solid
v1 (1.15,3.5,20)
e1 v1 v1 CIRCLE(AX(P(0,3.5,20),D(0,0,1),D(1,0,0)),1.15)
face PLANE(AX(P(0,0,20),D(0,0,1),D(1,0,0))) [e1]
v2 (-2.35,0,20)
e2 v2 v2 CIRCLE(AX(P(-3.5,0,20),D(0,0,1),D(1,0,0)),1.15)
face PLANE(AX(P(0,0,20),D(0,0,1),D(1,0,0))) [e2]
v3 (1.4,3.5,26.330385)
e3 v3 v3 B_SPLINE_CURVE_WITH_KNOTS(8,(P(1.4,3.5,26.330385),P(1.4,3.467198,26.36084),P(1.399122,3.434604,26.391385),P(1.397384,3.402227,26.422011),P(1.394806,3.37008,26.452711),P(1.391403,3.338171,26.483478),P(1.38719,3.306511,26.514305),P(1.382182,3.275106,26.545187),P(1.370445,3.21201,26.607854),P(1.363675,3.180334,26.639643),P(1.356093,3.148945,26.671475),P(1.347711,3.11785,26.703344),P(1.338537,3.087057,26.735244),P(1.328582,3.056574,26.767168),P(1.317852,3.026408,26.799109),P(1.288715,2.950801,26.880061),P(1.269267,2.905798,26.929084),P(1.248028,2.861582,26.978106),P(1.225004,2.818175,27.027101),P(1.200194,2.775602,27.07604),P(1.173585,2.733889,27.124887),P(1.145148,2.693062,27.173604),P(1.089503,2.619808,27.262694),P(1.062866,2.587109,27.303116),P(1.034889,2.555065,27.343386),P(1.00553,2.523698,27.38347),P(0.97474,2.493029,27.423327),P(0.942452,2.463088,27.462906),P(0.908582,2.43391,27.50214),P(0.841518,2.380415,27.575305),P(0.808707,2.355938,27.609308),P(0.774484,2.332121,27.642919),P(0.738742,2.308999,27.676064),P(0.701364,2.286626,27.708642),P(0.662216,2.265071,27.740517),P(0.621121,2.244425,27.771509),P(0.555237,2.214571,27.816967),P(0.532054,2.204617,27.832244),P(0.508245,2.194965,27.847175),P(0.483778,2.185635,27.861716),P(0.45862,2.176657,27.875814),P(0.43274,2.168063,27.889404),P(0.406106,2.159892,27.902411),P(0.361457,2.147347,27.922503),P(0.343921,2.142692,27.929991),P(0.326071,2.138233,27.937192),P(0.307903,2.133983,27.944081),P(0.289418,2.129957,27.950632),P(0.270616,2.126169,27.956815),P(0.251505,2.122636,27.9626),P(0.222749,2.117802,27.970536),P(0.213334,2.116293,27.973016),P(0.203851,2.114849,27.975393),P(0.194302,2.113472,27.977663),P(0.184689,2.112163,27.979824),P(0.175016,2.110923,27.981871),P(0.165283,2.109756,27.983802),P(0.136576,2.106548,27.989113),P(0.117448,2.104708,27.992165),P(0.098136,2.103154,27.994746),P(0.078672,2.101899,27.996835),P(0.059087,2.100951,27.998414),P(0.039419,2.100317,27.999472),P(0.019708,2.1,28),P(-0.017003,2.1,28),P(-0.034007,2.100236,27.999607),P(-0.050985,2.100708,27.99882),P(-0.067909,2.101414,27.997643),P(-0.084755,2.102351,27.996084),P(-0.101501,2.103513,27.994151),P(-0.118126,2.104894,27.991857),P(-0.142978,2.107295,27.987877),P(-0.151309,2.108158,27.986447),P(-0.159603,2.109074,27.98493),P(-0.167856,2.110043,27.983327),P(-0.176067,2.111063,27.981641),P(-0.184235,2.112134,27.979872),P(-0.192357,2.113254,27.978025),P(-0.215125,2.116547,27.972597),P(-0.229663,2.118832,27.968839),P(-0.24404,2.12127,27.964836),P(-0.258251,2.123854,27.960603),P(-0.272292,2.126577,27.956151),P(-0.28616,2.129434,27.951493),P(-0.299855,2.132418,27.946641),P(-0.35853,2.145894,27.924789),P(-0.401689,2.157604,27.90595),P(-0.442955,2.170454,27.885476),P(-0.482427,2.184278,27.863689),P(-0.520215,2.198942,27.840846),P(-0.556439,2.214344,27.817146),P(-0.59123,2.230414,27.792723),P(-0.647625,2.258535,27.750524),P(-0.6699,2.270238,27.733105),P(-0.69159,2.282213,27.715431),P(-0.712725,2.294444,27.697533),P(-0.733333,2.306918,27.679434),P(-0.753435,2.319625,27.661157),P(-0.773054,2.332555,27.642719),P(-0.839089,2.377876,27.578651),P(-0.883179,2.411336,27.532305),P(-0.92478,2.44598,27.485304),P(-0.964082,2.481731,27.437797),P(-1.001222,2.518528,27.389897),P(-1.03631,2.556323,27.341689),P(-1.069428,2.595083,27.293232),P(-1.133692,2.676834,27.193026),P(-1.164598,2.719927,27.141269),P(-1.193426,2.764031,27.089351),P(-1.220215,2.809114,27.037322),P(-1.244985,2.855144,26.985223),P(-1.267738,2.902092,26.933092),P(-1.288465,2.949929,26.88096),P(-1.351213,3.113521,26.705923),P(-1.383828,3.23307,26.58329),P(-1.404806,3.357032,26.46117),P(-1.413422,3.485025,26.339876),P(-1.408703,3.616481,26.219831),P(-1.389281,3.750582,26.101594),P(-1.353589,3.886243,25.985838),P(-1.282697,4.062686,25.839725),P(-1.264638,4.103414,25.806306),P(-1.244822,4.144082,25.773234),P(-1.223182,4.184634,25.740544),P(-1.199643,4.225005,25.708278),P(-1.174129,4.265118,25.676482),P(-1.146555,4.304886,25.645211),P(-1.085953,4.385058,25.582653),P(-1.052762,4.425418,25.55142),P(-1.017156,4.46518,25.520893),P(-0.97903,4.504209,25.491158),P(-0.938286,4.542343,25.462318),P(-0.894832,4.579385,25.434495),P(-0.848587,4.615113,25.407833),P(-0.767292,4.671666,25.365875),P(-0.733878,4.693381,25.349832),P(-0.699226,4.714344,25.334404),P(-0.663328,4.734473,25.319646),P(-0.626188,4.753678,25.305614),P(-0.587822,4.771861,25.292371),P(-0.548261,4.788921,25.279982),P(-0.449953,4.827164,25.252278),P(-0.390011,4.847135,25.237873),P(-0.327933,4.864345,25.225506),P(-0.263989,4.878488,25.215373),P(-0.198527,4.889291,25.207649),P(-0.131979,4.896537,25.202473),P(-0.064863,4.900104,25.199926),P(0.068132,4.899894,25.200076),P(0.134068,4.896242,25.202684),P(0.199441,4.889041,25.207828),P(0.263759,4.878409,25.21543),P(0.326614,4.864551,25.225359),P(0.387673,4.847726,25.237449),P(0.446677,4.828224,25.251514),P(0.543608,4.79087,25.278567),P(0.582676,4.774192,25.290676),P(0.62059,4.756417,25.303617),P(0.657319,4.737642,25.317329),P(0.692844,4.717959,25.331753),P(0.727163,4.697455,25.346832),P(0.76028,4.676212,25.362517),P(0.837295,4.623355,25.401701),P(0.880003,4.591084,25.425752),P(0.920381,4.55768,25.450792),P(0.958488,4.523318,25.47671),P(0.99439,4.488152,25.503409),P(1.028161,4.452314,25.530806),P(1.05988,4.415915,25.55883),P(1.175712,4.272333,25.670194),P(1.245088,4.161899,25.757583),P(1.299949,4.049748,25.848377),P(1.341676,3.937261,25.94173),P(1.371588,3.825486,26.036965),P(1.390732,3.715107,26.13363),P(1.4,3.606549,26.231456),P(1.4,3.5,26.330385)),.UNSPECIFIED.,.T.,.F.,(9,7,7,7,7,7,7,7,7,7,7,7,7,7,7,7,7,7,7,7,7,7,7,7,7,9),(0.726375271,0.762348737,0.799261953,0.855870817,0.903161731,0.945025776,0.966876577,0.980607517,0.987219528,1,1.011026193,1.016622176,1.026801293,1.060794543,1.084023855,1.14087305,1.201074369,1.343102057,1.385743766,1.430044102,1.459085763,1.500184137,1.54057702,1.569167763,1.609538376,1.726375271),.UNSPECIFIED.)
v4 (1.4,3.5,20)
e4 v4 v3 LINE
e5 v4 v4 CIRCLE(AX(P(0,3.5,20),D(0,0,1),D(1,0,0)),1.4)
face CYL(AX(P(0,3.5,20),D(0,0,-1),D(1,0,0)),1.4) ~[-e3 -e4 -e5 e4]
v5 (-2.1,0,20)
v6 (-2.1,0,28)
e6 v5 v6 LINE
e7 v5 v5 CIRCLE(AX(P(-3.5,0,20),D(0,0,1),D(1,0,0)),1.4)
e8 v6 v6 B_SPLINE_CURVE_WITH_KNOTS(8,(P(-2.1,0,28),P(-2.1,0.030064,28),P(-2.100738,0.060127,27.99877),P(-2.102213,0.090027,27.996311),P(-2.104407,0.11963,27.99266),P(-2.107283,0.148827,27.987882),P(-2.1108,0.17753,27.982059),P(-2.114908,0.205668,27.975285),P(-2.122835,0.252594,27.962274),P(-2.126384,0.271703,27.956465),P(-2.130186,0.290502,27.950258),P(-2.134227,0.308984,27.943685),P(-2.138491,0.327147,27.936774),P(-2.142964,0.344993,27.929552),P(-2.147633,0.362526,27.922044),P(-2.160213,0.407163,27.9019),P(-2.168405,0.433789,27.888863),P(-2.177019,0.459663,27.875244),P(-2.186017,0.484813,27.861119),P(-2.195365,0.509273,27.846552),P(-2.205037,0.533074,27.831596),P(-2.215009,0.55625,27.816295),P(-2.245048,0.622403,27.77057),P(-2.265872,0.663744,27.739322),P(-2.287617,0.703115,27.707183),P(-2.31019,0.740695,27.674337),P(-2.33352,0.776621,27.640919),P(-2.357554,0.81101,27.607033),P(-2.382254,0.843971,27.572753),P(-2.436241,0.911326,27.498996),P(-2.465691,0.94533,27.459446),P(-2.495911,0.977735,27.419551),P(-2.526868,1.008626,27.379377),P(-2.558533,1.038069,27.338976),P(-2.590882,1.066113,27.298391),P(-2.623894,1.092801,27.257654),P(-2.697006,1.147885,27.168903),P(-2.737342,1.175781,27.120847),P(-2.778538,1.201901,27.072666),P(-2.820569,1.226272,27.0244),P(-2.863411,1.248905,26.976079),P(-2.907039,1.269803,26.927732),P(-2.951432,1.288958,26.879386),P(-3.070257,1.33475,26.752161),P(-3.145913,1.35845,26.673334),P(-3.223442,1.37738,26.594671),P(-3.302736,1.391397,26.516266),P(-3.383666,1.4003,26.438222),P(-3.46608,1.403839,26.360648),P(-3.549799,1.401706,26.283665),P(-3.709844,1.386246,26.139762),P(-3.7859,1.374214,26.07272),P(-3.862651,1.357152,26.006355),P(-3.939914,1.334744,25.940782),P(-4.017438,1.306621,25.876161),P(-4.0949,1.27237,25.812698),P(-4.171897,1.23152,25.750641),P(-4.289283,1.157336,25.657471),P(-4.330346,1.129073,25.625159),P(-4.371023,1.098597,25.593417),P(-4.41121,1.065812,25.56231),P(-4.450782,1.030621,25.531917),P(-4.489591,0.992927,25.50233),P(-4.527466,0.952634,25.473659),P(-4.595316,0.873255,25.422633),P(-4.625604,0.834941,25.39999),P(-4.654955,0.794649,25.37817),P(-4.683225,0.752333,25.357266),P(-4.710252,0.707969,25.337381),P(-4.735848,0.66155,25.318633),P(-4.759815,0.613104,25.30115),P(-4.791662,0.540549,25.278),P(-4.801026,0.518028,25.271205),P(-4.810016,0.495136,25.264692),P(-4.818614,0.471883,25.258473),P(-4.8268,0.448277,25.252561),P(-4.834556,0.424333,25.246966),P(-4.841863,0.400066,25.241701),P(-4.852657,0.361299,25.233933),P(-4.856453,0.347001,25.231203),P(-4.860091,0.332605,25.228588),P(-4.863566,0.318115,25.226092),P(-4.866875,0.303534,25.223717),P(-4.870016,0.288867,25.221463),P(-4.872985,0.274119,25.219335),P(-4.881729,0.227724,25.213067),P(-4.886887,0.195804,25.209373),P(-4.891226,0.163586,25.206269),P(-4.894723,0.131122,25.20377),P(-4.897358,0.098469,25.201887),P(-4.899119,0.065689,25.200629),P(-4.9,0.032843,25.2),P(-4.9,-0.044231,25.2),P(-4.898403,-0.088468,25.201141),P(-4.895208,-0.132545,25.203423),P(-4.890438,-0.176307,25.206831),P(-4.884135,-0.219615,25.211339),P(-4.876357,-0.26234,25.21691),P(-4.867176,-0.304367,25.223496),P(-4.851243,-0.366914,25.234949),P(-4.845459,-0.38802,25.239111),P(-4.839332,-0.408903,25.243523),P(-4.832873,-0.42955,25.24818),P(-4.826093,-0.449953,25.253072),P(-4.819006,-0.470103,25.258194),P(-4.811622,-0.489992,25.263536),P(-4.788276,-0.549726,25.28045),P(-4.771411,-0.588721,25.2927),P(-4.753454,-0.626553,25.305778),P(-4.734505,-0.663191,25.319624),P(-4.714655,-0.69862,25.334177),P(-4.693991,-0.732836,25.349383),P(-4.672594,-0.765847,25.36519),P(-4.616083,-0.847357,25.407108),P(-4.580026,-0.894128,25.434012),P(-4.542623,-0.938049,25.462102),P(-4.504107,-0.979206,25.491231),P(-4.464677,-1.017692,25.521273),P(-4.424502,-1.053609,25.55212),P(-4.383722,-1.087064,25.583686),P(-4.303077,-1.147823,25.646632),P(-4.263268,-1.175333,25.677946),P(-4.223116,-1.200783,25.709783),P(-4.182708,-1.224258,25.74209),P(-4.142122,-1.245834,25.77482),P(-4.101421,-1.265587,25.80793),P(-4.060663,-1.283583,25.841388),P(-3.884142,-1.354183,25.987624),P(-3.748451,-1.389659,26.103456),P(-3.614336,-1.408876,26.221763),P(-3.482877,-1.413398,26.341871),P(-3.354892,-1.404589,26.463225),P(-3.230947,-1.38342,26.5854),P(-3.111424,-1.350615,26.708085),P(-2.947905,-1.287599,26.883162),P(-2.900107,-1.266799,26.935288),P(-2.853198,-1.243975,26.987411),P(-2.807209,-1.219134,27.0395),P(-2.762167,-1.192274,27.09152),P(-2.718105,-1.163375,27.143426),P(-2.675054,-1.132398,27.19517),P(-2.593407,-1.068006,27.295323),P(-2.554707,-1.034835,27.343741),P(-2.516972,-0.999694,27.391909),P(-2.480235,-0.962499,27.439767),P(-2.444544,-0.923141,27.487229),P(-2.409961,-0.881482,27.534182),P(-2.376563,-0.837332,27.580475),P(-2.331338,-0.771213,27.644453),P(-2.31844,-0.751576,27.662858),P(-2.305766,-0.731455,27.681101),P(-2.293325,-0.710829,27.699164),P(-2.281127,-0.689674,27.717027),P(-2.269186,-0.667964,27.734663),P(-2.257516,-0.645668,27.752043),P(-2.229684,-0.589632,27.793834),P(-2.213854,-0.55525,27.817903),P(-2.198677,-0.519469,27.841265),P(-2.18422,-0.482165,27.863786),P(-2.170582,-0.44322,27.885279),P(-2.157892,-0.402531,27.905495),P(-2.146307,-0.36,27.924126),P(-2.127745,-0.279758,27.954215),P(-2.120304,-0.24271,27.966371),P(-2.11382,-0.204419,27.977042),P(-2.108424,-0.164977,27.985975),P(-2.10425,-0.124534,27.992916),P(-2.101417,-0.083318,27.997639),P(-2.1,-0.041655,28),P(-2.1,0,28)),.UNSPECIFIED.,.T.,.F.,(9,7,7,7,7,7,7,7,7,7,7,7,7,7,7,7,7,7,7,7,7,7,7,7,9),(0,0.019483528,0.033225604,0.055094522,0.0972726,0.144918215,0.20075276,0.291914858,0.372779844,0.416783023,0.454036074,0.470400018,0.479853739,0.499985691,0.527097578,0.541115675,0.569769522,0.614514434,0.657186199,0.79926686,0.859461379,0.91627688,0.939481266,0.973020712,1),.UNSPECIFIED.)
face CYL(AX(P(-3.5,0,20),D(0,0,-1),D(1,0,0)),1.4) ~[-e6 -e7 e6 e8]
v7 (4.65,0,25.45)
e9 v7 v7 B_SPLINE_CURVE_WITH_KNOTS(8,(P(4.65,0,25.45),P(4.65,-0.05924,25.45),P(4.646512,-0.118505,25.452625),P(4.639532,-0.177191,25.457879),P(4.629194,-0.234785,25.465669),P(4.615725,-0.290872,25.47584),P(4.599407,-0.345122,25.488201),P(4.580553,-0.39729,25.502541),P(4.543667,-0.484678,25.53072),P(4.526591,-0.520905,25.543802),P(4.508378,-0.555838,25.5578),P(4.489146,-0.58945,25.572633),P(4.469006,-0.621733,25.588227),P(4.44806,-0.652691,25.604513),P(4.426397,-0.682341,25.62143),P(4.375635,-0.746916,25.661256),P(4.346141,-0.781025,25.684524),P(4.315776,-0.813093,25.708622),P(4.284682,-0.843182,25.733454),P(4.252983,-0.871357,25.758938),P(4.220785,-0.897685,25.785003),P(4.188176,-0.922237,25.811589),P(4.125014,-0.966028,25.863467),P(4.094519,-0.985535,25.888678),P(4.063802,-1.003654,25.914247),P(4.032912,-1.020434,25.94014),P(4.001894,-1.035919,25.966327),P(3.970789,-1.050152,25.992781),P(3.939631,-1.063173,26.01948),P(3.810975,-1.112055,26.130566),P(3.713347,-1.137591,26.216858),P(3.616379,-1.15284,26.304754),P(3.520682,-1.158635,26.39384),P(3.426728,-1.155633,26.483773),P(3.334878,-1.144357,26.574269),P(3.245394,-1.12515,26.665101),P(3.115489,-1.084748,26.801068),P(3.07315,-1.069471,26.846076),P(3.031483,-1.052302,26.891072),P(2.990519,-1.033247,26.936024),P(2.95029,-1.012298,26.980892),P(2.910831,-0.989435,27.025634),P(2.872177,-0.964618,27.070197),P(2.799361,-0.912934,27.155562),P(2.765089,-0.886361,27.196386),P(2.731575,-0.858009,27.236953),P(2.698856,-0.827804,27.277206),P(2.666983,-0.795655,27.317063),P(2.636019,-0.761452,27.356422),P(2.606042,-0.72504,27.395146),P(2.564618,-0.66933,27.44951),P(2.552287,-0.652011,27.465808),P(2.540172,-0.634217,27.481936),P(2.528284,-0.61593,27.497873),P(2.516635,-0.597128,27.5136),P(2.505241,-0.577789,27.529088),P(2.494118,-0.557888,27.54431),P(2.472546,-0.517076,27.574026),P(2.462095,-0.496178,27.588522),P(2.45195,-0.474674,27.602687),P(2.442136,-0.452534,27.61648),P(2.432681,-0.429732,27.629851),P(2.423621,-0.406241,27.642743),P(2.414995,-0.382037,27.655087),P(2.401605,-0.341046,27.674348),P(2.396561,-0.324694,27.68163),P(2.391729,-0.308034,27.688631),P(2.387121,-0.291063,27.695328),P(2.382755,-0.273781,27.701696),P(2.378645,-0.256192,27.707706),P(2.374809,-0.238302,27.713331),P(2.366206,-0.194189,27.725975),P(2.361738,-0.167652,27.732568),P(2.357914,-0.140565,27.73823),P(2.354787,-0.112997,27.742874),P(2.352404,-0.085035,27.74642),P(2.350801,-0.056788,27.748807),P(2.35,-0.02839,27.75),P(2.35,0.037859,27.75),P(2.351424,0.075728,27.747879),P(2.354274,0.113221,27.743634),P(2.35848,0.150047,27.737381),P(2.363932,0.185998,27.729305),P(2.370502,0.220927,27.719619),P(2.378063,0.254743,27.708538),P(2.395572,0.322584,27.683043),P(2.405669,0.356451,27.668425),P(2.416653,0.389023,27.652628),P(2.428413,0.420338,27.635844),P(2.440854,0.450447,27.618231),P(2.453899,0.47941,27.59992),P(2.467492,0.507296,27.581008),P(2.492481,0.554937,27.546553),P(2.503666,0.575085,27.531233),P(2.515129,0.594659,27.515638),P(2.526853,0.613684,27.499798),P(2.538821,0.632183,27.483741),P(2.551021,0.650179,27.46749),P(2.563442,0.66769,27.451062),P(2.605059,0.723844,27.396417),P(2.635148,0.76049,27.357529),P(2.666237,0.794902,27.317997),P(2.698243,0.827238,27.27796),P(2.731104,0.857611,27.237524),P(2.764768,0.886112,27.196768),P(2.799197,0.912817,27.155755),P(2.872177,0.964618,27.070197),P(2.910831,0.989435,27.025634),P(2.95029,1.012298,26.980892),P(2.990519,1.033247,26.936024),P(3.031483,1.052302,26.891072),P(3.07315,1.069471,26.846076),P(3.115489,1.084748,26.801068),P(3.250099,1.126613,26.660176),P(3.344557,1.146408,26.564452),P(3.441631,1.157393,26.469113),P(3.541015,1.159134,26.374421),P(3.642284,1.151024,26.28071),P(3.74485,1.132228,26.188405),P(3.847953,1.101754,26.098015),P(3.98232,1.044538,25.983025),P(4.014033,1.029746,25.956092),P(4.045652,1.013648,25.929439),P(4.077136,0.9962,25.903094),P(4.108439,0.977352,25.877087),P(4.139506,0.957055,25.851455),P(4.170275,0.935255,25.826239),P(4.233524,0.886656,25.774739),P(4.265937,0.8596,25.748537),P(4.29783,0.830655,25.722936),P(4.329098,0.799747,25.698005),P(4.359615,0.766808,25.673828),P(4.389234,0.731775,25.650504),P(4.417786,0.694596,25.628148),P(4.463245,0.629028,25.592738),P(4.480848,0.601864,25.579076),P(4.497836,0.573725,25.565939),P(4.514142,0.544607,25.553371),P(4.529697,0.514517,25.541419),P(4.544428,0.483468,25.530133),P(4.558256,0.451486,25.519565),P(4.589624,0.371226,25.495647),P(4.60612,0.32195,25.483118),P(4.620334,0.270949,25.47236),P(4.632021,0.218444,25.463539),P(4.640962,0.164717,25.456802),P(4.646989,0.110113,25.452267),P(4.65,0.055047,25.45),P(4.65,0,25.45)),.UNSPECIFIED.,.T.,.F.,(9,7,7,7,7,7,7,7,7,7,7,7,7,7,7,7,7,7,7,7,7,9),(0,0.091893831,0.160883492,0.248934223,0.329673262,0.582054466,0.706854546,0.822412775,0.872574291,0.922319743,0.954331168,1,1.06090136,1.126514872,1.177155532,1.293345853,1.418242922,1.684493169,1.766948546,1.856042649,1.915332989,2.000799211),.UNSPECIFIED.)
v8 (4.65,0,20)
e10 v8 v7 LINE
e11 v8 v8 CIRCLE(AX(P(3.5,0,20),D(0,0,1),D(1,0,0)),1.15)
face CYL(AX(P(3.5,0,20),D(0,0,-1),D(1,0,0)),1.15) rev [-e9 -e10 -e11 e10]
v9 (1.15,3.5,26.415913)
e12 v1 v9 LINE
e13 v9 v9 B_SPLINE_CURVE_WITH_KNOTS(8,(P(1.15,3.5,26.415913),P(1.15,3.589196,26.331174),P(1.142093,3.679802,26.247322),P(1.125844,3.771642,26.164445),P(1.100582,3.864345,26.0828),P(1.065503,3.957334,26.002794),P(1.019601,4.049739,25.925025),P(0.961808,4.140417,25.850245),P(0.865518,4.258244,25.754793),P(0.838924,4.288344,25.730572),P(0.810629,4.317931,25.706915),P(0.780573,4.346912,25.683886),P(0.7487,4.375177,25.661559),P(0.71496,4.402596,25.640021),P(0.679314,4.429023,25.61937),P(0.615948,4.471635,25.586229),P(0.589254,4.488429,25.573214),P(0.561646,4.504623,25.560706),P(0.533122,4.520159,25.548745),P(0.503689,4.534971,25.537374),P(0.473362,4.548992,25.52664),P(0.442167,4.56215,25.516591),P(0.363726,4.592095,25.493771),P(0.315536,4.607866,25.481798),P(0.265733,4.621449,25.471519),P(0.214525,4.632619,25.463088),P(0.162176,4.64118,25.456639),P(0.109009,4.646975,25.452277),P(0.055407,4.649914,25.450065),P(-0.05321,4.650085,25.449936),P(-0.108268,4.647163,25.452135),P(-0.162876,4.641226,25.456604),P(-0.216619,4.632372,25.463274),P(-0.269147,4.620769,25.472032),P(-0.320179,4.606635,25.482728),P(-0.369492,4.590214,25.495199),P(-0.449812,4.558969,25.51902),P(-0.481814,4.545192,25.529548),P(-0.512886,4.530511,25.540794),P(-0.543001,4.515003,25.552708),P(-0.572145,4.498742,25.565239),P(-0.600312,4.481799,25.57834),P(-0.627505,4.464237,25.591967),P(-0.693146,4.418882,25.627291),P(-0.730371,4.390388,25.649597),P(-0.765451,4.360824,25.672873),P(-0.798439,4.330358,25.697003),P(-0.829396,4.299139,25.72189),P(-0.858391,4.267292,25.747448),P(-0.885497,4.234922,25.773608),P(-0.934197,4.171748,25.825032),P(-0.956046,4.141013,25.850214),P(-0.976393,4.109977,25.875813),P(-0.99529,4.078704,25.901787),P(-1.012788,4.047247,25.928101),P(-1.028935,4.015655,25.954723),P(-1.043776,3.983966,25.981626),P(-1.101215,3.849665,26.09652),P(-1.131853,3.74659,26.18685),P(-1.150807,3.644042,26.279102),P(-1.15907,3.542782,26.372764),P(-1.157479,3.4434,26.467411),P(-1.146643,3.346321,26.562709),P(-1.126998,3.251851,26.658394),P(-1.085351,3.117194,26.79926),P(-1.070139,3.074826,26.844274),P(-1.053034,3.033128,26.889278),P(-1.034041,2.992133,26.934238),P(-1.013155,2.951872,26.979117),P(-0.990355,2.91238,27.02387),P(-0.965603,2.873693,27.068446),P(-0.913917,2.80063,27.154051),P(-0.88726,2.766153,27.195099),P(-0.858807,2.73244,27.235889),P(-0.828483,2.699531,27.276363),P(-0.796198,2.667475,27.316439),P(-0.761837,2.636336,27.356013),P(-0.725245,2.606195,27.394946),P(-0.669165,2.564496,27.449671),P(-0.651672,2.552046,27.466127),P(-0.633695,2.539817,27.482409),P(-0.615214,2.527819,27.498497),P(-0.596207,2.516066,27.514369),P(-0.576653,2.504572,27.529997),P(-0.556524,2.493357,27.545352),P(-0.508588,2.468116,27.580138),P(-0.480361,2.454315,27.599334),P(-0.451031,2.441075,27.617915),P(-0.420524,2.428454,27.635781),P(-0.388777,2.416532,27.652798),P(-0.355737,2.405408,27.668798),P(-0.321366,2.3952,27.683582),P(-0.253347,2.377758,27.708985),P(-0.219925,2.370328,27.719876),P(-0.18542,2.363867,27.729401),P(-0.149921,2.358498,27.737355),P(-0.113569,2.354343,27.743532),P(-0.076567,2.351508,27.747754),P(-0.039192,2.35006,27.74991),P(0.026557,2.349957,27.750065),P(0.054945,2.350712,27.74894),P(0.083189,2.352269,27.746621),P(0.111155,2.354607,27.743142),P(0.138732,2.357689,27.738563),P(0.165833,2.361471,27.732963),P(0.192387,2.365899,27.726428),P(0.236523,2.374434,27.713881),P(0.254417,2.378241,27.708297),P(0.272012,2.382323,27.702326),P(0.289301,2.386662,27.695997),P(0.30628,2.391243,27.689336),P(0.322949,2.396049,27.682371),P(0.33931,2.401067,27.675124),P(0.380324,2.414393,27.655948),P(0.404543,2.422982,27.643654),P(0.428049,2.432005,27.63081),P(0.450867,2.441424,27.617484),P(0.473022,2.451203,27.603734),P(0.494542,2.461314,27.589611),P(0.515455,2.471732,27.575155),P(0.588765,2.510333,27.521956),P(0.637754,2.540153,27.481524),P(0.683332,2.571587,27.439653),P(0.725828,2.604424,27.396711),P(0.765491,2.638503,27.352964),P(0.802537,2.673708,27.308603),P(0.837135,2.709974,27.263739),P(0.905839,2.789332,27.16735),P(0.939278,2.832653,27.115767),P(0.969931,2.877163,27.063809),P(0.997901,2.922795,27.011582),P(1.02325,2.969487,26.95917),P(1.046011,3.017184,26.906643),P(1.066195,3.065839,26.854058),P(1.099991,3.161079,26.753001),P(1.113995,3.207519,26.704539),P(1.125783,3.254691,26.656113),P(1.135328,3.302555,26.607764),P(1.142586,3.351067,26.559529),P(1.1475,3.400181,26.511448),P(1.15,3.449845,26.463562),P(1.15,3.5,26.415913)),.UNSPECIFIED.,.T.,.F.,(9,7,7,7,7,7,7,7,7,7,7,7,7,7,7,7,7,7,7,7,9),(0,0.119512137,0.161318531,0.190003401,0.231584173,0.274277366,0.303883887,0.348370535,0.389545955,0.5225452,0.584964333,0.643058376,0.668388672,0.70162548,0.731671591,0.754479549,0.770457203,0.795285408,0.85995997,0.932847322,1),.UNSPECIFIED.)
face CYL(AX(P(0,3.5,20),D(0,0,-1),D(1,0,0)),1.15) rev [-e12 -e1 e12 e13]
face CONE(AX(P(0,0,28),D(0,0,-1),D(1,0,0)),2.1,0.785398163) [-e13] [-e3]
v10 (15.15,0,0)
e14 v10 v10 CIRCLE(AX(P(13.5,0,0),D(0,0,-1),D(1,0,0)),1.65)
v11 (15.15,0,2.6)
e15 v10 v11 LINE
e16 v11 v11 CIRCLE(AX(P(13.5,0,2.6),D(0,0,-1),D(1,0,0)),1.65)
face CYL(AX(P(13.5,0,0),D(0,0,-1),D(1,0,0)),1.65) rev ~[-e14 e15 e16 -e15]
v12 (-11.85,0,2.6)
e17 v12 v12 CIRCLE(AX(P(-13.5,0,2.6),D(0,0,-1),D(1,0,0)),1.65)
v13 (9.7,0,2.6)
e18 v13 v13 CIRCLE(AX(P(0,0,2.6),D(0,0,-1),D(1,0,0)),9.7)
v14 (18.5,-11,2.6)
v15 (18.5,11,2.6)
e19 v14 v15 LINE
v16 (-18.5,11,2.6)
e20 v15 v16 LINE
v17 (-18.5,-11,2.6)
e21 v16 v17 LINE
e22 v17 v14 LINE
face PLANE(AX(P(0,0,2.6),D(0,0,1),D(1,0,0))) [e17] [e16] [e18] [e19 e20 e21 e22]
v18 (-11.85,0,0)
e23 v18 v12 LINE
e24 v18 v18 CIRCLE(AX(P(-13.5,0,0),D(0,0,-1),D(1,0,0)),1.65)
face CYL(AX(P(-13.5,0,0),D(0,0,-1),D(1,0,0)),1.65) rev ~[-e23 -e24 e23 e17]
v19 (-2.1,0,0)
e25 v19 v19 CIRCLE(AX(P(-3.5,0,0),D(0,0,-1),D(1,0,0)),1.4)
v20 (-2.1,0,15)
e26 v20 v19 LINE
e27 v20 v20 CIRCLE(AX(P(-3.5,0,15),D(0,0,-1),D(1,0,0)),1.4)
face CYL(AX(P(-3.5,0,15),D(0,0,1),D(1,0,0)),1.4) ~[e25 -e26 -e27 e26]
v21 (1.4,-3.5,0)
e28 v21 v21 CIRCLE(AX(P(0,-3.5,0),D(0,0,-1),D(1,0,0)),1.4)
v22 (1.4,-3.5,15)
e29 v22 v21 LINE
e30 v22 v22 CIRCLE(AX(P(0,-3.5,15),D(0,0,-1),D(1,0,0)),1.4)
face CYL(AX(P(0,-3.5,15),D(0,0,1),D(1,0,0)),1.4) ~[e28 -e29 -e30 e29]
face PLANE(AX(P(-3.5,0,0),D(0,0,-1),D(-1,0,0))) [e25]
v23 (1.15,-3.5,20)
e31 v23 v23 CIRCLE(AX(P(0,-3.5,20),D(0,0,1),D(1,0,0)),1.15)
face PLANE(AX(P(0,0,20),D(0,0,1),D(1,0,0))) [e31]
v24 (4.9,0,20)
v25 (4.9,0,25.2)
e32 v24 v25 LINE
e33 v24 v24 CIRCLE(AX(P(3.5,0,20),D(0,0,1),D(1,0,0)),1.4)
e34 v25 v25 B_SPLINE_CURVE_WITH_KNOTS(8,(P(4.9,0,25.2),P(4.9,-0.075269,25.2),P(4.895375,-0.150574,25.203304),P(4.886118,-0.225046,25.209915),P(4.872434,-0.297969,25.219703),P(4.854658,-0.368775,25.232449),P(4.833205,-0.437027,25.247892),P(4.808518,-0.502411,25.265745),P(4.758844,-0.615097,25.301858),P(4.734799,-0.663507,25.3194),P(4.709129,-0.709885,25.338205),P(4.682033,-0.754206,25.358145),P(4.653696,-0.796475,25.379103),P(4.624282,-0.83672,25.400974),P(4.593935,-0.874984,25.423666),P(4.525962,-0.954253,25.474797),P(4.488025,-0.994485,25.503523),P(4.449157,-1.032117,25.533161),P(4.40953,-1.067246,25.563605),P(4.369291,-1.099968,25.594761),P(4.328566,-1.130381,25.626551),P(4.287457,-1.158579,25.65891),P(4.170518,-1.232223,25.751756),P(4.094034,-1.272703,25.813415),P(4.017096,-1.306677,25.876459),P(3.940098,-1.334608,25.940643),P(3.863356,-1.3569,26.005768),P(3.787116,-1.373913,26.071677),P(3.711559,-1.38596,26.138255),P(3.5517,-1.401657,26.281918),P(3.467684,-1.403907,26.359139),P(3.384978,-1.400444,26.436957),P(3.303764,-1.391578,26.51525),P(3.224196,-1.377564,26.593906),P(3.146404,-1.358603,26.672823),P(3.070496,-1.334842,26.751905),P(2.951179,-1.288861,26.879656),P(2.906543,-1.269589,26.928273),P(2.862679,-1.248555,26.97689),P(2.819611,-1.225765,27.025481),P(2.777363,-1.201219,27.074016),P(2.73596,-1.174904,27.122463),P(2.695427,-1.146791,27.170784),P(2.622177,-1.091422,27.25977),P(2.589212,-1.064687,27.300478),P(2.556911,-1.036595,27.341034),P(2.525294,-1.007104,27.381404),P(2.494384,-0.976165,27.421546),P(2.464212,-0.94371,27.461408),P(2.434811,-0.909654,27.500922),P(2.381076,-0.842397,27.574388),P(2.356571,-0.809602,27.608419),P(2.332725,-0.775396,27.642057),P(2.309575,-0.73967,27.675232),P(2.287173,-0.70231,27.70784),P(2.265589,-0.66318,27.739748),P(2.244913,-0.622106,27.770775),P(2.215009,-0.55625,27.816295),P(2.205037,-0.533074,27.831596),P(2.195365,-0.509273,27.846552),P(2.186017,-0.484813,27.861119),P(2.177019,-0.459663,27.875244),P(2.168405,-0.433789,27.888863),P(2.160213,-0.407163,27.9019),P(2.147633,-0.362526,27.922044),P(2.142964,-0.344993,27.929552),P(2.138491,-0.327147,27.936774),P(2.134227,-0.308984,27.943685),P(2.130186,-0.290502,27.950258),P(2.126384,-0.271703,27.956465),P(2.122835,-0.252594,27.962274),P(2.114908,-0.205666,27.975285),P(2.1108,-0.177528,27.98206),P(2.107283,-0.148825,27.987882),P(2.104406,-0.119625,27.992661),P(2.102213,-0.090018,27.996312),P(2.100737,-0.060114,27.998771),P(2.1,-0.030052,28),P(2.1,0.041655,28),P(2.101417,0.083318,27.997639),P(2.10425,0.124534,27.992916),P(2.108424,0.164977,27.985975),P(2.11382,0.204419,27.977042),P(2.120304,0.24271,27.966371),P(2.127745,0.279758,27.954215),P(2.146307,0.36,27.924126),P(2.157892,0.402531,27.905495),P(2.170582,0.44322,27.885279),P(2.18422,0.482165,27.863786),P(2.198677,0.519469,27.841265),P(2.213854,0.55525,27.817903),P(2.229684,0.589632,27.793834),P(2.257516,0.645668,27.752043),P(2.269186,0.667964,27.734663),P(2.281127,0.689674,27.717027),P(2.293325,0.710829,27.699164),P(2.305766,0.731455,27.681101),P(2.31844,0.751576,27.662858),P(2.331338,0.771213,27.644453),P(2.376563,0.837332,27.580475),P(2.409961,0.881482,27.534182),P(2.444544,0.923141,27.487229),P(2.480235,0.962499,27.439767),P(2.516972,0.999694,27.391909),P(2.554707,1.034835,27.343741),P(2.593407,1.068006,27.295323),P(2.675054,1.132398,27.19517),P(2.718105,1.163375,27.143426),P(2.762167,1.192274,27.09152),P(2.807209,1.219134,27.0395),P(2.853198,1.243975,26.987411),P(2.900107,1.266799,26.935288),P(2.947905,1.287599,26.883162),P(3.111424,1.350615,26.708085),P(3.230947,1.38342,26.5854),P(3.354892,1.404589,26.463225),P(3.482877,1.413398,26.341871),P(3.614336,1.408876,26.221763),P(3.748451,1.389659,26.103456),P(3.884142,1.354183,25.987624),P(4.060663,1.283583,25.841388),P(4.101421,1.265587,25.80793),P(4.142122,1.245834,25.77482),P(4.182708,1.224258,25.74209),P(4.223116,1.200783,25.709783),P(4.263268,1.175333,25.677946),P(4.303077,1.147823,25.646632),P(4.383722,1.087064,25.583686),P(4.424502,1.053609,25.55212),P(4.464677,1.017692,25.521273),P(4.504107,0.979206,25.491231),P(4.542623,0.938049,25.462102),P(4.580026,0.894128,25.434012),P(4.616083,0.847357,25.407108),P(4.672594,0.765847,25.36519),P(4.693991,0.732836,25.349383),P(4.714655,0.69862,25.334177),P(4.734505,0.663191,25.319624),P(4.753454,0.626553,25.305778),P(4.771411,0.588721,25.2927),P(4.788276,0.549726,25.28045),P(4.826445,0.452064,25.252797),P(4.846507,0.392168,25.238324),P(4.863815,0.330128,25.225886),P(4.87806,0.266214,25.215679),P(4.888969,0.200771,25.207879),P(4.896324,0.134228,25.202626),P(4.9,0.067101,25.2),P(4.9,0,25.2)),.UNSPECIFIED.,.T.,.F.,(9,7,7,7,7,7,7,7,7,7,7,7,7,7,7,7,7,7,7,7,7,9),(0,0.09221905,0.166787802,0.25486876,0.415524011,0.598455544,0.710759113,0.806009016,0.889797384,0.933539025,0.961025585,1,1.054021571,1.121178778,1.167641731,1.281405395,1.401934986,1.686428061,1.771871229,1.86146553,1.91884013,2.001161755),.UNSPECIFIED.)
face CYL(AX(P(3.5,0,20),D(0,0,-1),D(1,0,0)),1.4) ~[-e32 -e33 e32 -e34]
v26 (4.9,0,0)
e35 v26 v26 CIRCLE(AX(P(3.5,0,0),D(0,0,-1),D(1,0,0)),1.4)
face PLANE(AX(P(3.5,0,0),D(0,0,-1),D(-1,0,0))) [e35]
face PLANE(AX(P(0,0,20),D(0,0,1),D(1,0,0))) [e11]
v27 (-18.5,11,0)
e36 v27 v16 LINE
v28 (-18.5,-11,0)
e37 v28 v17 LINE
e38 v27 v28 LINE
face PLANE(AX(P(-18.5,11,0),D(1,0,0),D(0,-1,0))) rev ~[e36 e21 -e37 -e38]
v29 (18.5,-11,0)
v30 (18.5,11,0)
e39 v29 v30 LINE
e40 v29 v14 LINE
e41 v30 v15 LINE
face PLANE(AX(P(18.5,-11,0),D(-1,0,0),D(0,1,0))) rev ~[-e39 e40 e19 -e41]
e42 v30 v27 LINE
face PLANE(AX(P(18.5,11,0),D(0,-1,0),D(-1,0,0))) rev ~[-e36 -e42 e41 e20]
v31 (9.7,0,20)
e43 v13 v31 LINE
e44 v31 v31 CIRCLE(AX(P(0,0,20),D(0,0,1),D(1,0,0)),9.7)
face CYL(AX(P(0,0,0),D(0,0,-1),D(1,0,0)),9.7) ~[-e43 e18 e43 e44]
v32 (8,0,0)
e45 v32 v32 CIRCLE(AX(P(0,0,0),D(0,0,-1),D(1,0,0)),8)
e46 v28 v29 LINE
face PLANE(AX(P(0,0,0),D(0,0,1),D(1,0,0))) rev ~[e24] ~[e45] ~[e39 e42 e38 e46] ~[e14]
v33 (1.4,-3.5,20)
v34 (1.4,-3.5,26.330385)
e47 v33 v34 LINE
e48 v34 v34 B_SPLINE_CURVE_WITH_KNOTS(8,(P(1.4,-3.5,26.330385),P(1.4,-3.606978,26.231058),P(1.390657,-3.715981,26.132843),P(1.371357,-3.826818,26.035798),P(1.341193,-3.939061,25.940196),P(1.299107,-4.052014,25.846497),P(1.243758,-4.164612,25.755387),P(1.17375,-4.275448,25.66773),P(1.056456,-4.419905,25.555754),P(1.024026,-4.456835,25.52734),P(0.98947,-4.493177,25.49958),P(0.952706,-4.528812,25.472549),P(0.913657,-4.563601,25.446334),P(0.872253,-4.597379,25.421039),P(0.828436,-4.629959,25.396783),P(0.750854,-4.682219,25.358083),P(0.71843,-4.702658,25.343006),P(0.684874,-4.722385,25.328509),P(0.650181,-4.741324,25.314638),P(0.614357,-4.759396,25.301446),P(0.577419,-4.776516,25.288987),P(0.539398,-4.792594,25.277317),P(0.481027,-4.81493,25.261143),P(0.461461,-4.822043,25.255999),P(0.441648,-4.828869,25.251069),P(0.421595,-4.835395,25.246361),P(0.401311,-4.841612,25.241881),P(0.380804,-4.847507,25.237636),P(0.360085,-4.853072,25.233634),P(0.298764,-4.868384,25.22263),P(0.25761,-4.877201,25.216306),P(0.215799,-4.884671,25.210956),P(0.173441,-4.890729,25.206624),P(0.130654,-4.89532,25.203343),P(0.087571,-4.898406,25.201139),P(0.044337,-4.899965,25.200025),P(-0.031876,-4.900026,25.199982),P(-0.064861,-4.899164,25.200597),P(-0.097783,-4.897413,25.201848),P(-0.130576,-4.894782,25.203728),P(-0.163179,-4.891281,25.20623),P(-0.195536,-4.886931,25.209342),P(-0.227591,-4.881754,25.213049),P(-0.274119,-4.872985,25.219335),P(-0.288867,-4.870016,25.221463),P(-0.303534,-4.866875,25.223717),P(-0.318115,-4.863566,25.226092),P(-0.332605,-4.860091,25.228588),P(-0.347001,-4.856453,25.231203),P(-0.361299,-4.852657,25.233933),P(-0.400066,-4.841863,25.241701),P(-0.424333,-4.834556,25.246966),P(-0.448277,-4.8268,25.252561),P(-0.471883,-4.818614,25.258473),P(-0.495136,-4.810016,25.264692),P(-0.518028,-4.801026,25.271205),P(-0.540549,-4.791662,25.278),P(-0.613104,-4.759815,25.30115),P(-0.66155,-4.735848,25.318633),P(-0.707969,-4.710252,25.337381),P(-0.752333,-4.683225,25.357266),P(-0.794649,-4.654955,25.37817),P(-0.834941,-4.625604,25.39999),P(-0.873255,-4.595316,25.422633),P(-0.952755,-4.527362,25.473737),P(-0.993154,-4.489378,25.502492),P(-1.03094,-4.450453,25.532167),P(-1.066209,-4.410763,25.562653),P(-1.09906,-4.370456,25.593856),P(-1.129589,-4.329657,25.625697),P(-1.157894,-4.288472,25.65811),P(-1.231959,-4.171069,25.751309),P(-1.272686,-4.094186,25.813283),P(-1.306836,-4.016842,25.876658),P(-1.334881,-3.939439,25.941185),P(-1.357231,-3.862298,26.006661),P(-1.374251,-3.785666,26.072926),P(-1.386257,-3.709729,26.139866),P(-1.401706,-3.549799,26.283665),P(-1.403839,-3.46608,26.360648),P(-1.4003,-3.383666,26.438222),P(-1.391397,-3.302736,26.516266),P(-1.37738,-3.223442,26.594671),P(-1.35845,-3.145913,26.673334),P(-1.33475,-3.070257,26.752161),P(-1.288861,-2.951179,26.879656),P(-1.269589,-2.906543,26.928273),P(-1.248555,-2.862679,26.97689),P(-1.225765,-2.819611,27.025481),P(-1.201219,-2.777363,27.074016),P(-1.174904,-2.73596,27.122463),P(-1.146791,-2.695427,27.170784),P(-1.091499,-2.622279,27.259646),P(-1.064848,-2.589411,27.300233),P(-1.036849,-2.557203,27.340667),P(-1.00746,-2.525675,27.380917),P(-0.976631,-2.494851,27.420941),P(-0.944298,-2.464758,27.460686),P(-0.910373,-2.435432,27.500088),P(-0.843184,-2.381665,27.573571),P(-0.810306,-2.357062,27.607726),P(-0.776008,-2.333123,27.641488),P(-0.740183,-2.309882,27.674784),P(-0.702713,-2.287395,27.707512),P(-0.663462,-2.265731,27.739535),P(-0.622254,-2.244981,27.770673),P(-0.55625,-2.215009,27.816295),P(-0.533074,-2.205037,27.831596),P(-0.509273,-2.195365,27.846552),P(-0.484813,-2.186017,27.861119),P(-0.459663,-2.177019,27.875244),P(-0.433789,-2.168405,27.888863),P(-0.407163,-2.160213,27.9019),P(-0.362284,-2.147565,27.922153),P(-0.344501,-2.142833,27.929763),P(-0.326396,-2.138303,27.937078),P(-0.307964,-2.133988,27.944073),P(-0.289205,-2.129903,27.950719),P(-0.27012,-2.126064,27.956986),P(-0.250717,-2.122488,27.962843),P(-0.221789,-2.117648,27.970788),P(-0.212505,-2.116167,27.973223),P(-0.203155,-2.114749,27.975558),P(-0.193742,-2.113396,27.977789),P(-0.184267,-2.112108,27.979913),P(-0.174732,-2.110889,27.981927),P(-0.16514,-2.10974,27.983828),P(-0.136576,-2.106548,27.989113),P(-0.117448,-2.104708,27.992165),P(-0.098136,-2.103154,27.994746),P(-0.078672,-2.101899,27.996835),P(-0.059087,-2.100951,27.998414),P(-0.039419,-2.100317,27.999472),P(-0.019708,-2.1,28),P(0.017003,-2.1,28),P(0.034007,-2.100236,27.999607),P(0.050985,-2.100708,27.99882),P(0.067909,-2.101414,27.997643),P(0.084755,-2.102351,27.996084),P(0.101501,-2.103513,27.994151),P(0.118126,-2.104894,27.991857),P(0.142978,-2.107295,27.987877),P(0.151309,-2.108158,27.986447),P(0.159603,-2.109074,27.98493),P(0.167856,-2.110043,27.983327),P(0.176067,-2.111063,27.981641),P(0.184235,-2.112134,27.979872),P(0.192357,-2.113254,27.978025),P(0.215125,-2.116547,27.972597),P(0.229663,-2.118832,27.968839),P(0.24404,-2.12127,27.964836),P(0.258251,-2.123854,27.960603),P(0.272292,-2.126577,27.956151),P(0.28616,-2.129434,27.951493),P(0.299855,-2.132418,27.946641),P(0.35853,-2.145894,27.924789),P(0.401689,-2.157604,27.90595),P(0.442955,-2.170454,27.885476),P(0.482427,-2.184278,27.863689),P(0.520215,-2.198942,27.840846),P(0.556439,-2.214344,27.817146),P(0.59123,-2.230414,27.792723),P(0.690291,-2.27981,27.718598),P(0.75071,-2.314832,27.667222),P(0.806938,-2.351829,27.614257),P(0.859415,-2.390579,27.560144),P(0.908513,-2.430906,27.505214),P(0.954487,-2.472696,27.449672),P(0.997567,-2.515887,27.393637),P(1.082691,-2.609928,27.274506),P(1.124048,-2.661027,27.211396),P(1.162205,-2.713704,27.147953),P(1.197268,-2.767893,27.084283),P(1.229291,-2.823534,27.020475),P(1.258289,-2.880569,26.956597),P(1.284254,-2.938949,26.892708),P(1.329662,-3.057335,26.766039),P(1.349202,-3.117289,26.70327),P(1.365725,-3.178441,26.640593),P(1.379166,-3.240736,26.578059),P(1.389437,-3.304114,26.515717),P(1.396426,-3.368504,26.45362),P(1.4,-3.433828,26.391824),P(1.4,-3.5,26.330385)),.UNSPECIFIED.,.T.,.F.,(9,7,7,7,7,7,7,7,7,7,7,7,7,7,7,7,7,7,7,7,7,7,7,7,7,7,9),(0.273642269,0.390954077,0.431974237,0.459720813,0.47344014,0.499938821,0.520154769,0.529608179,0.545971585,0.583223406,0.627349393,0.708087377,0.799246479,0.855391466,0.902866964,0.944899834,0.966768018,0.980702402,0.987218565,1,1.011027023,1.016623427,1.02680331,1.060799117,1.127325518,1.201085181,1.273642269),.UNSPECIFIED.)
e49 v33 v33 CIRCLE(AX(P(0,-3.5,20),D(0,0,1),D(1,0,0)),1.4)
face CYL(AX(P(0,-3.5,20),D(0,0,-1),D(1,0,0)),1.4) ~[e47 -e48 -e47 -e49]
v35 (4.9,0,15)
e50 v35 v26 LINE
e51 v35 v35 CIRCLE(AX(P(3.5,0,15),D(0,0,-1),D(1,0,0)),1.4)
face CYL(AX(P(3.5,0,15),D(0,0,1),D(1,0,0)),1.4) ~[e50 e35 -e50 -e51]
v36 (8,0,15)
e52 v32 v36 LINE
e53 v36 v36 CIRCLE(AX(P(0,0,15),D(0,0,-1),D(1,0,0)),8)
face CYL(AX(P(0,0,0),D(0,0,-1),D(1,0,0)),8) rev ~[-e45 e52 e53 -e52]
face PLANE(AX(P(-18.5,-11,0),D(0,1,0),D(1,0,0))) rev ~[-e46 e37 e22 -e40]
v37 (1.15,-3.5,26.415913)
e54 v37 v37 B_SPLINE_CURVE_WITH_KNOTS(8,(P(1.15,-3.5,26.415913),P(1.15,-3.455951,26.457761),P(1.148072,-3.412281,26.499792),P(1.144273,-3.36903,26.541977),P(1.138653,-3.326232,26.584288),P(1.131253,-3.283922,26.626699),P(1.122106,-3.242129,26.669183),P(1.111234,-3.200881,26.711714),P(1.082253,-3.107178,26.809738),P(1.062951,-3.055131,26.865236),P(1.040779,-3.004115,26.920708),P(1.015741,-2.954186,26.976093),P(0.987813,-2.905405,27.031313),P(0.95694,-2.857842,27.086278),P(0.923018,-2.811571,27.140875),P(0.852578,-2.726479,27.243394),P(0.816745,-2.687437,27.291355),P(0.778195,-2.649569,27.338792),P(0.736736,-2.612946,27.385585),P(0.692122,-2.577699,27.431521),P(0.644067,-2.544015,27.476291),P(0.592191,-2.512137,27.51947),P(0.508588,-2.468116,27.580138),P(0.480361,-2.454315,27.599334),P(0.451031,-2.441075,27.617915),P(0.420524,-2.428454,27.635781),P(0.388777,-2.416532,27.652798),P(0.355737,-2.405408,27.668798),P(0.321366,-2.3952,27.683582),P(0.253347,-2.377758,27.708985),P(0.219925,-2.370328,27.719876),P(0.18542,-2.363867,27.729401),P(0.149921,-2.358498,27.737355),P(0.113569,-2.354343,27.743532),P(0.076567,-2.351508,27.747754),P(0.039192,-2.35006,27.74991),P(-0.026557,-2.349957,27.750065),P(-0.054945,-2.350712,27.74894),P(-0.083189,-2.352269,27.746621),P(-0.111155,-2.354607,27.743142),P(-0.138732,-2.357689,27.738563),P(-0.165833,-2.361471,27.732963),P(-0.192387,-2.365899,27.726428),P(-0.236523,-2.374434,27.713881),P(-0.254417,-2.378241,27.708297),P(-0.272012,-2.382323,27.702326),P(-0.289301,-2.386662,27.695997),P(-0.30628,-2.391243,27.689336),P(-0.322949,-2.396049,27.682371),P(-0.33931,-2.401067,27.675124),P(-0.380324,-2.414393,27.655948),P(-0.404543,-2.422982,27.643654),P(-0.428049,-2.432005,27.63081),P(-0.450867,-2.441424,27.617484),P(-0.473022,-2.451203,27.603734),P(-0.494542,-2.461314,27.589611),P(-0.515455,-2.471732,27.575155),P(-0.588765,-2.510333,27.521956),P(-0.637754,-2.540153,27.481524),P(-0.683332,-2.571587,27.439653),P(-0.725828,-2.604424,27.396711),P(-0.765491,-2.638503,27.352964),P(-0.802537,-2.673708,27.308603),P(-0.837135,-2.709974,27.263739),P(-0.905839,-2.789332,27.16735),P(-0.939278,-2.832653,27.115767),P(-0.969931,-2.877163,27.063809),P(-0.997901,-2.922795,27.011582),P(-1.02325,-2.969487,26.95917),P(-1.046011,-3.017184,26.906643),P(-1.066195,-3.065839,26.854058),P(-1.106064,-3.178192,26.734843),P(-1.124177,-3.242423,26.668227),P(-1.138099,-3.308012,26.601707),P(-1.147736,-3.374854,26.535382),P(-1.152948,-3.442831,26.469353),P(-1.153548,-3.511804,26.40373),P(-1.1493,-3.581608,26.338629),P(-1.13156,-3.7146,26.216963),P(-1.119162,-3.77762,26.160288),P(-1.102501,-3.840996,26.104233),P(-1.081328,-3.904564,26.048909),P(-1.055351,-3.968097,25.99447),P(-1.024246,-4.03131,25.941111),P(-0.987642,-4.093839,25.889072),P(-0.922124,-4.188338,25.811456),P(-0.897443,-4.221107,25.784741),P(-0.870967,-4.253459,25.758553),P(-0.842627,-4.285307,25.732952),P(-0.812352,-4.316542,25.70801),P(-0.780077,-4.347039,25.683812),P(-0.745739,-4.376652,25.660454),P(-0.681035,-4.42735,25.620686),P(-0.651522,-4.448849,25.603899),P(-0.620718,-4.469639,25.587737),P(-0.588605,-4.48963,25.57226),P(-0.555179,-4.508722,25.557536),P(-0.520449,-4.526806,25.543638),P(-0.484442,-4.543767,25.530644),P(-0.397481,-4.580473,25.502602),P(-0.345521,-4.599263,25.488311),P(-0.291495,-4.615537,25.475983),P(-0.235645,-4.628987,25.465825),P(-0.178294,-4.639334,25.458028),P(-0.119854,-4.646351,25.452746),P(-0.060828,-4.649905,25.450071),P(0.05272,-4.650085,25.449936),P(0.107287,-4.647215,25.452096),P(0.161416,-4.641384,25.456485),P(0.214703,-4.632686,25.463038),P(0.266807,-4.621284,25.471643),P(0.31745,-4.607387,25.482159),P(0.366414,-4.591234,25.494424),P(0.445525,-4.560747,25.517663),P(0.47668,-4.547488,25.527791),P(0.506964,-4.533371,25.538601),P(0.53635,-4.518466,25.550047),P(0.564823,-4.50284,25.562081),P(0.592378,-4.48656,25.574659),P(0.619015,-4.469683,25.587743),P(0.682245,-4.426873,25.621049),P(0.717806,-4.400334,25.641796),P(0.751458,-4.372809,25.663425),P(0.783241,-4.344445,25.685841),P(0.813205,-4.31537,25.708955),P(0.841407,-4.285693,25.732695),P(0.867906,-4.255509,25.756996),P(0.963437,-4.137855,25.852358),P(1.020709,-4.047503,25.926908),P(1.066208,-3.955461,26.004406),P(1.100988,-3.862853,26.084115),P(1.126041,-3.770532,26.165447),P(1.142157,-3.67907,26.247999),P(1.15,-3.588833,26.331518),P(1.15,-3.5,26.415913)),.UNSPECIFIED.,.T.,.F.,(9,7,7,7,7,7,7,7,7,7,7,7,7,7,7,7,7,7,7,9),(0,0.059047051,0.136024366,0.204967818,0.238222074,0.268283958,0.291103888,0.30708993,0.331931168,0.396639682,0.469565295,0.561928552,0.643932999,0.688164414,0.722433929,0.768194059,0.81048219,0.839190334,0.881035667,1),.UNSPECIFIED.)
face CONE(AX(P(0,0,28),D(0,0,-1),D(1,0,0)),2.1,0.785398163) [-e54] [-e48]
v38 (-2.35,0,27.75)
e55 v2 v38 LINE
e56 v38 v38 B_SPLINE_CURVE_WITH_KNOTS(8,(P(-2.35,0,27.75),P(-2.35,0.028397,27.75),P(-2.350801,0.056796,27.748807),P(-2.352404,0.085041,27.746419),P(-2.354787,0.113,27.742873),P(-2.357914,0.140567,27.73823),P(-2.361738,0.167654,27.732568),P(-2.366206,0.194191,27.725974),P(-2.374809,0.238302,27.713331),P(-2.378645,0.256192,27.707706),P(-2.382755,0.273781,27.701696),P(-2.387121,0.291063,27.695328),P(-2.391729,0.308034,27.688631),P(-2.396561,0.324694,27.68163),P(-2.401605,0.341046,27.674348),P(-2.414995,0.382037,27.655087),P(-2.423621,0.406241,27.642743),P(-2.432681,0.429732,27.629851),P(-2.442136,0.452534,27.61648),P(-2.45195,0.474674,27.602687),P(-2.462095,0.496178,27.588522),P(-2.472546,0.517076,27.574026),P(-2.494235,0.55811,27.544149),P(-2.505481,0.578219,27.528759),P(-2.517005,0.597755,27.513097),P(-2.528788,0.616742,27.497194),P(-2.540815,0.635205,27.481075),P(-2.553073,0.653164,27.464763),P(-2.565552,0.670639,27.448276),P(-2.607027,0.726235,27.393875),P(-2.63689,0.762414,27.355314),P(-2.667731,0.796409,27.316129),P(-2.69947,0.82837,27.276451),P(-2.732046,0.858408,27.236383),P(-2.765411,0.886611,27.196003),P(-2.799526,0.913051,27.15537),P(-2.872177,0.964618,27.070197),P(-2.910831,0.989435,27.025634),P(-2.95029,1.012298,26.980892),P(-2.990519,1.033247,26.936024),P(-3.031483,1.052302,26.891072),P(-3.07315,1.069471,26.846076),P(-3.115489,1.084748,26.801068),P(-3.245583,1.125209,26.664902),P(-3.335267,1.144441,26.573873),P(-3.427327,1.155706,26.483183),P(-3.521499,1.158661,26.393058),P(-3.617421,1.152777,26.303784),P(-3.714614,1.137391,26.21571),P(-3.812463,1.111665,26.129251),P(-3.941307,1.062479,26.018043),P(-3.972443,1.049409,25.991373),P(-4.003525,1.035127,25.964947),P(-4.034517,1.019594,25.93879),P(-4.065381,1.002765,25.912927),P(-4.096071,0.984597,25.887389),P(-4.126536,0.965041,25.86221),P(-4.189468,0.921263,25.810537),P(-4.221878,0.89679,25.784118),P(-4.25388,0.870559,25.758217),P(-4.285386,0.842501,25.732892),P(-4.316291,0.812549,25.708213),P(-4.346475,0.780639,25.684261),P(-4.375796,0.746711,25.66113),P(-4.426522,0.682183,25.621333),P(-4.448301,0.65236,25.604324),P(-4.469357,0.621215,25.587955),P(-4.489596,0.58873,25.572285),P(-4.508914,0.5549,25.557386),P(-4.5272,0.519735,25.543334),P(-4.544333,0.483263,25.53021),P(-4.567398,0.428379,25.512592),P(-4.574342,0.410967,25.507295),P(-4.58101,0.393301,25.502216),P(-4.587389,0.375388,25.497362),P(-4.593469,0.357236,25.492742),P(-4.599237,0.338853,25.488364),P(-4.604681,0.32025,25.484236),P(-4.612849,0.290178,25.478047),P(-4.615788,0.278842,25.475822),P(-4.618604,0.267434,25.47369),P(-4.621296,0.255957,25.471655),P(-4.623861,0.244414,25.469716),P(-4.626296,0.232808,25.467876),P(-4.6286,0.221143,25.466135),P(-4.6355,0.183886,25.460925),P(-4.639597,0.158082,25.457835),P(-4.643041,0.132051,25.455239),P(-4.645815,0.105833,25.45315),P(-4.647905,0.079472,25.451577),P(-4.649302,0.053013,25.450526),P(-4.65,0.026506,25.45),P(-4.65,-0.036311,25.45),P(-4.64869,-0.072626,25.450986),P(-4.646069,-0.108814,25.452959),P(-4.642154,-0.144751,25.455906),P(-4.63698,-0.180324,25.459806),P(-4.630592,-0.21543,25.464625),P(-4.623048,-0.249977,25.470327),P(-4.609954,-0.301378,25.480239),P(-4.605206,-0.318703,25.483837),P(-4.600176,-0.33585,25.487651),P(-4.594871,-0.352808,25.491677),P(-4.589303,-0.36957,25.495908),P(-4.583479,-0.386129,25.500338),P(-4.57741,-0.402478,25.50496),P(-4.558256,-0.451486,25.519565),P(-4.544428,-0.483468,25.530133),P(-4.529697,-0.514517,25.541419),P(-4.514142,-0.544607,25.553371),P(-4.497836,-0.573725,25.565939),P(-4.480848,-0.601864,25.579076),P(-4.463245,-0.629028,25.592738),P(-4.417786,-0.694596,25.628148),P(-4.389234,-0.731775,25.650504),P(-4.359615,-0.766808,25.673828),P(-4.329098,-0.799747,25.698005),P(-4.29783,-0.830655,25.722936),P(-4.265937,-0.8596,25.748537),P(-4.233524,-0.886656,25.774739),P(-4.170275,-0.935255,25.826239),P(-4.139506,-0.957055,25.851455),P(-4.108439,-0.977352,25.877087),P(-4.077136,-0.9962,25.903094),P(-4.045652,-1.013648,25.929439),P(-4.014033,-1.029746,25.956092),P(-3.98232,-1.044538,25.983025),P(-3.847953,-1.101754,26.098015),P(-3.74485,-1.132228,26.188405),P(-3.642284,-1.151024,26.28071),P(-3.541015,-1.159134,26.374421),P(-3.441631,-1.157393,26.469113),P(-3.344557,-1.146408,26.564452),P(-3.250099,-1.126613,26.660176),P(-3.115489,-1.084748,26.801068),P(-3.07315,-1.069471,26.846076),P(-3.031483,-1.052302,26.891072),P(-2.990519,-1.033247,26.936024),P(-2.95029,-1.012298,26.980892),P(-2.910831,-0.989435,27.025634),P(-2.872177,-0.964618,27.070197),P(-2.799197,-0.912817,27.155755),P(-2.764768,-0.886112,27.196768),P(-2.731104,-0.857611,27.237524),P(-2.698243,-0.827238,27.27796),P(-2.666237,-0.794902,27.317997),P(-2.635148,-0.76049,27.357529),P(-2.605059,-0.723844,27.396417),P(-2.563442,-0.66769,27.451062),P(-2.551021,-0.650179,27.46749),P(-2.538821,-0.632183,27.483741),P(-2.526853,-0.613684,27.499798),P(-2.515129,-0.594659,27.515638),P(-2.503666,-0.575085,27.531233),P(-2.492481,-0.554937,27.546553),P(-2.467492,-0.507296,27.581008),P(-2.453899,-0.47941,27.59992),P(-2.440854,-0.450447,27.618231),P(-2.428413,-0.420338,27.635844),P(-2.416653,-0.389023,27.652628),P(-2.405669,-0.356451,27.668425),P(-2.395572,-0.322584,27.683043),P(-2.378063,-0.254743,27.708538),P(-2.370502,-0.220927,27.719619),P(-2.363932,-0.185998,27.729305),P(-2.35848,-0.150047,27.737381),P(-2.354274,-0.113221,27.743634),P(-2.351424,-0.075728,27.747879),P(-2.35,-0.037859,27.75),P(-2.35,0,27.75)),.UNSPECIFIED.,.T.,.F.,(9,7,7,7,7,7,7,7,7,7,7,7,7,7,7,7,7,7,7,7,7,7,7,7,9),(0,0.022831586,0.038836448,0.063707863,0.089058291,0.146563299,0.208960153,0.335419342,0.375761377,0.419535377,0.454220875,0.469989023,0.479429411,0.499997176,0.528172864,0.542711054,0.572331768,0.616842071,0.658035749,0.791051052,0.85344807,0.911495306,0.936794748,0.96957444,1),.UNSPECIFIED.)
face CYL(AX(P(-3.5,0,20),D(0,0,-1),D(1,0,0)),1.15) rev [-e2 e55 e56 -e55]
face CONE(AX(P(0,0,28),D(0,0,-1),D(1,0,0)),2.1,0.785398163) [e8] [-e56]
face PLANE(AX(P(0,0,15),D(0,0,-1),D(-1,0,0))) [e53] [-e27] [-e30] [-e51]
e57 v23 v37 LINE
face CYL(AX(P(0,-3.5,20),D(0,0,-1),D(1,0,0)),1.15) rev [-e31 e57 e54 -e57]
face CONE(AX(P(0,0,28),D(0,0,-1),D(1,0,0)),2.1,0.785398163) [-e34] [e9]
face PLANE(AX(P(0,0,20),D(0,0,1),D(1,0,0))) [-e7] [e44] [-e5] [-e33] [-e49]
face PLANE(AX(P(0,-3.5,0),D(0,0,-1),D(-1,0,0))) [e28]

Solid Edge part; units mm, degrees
sketch "Sketch1" plane through (0, 0, 0) normal (0, 0, 1) x (1, 0, 0)
  line L0 (-18.5, -11) -> (18.5, -11)
  line L1 (18.5, -11) -> (18.5, 11)
  line L2 (18.5, 11) -> (-18.5, 11)
  line L3 (-18.5, 11) -> (-18.5, -11)
  dimension "D1" = 37
  dimension "D2" = 22
extrude "Protrusion1" add sketch "Sketch1" along normal blind 2.6
sketch "Sketch2" plane through (0, 0, 0) normal (0, 0, 1) x (1, 0, 0)
  circle A0 centre (0, 0) radius 9.7
extrude "ExtrudedProtrusion_2" add sketch "Sketch2" along normal blind 20
sketch "Sketch3" plane through (0, 0, 20) normal (0, 0, 1) x (1, 0, 0)
  circle A0 centre (0, -3.5) radius 1.4
  circle A1 centre (-3.5, 0) radius 1.4
  circle A2 centre (3.5, 0) radius 1.4
  circle A3 centre (0, 3.5) radius 1.15
  circle A4 centre (-3.5, 0) radius 1.15
  circle A5 centre (0, -3.5) radius 1.15
  circle A6 centre (3.5, 0) radius 1.15
  circle A7 centre (0, 3.5) radius 1.4
extrude "ExtrudedProtrusion_3" add sketch "Sketch3" along normal blind 8
sketch "Sketch4" plane through (0, 0, 0) normal (0, -1, 0) x (1, 0, 0)
  line L0 (2.1, 28) -> (7.9771, 22.1229)
revolve "RevolvedCutout1" cut sketch "Sketch4" angle 360 about axis through (0, 0, 54) along (0, 0, -1) material side at (5.0739, 0, 25.0968)
sketch "Sketch5" plane through (0, 0, 0) normal (0, 0, -1) x (1, 0, 0)
  circle A0 centre (0, 0) radius 8
extrude "ExtrudedCutout_1" cut sketch "Sketch5" against normal blind 15
sketch "Sketch6" plane through (0, 0, 15) normal (0, 0, -1) x (1, 0, 0)
  circle A0 centre (0, 3.5) radius 1.4
  circle A1 centre (-3.5, 0) radius 1.4
  circle A2 centre (3.5, 0) radius 1.4
extrude "Protrusion2" add sketch "Sketch6" along normal up to vertex (15 mm away)
sketch "Sketch7" plane through (0, 0, 0) normal (0, 0, -1) x (1, 0, 0)
  circle A0 centre (13.5, 0) radius 1.65
  circle A1 centre (-13.5, 0) radius 1.65
  dimension "D1" = 13.5
  dimension "D2" = 13.5
extrude "Cutout1" cut sketch "Sketch7" against normal through all
properties material "Stainless steel"
